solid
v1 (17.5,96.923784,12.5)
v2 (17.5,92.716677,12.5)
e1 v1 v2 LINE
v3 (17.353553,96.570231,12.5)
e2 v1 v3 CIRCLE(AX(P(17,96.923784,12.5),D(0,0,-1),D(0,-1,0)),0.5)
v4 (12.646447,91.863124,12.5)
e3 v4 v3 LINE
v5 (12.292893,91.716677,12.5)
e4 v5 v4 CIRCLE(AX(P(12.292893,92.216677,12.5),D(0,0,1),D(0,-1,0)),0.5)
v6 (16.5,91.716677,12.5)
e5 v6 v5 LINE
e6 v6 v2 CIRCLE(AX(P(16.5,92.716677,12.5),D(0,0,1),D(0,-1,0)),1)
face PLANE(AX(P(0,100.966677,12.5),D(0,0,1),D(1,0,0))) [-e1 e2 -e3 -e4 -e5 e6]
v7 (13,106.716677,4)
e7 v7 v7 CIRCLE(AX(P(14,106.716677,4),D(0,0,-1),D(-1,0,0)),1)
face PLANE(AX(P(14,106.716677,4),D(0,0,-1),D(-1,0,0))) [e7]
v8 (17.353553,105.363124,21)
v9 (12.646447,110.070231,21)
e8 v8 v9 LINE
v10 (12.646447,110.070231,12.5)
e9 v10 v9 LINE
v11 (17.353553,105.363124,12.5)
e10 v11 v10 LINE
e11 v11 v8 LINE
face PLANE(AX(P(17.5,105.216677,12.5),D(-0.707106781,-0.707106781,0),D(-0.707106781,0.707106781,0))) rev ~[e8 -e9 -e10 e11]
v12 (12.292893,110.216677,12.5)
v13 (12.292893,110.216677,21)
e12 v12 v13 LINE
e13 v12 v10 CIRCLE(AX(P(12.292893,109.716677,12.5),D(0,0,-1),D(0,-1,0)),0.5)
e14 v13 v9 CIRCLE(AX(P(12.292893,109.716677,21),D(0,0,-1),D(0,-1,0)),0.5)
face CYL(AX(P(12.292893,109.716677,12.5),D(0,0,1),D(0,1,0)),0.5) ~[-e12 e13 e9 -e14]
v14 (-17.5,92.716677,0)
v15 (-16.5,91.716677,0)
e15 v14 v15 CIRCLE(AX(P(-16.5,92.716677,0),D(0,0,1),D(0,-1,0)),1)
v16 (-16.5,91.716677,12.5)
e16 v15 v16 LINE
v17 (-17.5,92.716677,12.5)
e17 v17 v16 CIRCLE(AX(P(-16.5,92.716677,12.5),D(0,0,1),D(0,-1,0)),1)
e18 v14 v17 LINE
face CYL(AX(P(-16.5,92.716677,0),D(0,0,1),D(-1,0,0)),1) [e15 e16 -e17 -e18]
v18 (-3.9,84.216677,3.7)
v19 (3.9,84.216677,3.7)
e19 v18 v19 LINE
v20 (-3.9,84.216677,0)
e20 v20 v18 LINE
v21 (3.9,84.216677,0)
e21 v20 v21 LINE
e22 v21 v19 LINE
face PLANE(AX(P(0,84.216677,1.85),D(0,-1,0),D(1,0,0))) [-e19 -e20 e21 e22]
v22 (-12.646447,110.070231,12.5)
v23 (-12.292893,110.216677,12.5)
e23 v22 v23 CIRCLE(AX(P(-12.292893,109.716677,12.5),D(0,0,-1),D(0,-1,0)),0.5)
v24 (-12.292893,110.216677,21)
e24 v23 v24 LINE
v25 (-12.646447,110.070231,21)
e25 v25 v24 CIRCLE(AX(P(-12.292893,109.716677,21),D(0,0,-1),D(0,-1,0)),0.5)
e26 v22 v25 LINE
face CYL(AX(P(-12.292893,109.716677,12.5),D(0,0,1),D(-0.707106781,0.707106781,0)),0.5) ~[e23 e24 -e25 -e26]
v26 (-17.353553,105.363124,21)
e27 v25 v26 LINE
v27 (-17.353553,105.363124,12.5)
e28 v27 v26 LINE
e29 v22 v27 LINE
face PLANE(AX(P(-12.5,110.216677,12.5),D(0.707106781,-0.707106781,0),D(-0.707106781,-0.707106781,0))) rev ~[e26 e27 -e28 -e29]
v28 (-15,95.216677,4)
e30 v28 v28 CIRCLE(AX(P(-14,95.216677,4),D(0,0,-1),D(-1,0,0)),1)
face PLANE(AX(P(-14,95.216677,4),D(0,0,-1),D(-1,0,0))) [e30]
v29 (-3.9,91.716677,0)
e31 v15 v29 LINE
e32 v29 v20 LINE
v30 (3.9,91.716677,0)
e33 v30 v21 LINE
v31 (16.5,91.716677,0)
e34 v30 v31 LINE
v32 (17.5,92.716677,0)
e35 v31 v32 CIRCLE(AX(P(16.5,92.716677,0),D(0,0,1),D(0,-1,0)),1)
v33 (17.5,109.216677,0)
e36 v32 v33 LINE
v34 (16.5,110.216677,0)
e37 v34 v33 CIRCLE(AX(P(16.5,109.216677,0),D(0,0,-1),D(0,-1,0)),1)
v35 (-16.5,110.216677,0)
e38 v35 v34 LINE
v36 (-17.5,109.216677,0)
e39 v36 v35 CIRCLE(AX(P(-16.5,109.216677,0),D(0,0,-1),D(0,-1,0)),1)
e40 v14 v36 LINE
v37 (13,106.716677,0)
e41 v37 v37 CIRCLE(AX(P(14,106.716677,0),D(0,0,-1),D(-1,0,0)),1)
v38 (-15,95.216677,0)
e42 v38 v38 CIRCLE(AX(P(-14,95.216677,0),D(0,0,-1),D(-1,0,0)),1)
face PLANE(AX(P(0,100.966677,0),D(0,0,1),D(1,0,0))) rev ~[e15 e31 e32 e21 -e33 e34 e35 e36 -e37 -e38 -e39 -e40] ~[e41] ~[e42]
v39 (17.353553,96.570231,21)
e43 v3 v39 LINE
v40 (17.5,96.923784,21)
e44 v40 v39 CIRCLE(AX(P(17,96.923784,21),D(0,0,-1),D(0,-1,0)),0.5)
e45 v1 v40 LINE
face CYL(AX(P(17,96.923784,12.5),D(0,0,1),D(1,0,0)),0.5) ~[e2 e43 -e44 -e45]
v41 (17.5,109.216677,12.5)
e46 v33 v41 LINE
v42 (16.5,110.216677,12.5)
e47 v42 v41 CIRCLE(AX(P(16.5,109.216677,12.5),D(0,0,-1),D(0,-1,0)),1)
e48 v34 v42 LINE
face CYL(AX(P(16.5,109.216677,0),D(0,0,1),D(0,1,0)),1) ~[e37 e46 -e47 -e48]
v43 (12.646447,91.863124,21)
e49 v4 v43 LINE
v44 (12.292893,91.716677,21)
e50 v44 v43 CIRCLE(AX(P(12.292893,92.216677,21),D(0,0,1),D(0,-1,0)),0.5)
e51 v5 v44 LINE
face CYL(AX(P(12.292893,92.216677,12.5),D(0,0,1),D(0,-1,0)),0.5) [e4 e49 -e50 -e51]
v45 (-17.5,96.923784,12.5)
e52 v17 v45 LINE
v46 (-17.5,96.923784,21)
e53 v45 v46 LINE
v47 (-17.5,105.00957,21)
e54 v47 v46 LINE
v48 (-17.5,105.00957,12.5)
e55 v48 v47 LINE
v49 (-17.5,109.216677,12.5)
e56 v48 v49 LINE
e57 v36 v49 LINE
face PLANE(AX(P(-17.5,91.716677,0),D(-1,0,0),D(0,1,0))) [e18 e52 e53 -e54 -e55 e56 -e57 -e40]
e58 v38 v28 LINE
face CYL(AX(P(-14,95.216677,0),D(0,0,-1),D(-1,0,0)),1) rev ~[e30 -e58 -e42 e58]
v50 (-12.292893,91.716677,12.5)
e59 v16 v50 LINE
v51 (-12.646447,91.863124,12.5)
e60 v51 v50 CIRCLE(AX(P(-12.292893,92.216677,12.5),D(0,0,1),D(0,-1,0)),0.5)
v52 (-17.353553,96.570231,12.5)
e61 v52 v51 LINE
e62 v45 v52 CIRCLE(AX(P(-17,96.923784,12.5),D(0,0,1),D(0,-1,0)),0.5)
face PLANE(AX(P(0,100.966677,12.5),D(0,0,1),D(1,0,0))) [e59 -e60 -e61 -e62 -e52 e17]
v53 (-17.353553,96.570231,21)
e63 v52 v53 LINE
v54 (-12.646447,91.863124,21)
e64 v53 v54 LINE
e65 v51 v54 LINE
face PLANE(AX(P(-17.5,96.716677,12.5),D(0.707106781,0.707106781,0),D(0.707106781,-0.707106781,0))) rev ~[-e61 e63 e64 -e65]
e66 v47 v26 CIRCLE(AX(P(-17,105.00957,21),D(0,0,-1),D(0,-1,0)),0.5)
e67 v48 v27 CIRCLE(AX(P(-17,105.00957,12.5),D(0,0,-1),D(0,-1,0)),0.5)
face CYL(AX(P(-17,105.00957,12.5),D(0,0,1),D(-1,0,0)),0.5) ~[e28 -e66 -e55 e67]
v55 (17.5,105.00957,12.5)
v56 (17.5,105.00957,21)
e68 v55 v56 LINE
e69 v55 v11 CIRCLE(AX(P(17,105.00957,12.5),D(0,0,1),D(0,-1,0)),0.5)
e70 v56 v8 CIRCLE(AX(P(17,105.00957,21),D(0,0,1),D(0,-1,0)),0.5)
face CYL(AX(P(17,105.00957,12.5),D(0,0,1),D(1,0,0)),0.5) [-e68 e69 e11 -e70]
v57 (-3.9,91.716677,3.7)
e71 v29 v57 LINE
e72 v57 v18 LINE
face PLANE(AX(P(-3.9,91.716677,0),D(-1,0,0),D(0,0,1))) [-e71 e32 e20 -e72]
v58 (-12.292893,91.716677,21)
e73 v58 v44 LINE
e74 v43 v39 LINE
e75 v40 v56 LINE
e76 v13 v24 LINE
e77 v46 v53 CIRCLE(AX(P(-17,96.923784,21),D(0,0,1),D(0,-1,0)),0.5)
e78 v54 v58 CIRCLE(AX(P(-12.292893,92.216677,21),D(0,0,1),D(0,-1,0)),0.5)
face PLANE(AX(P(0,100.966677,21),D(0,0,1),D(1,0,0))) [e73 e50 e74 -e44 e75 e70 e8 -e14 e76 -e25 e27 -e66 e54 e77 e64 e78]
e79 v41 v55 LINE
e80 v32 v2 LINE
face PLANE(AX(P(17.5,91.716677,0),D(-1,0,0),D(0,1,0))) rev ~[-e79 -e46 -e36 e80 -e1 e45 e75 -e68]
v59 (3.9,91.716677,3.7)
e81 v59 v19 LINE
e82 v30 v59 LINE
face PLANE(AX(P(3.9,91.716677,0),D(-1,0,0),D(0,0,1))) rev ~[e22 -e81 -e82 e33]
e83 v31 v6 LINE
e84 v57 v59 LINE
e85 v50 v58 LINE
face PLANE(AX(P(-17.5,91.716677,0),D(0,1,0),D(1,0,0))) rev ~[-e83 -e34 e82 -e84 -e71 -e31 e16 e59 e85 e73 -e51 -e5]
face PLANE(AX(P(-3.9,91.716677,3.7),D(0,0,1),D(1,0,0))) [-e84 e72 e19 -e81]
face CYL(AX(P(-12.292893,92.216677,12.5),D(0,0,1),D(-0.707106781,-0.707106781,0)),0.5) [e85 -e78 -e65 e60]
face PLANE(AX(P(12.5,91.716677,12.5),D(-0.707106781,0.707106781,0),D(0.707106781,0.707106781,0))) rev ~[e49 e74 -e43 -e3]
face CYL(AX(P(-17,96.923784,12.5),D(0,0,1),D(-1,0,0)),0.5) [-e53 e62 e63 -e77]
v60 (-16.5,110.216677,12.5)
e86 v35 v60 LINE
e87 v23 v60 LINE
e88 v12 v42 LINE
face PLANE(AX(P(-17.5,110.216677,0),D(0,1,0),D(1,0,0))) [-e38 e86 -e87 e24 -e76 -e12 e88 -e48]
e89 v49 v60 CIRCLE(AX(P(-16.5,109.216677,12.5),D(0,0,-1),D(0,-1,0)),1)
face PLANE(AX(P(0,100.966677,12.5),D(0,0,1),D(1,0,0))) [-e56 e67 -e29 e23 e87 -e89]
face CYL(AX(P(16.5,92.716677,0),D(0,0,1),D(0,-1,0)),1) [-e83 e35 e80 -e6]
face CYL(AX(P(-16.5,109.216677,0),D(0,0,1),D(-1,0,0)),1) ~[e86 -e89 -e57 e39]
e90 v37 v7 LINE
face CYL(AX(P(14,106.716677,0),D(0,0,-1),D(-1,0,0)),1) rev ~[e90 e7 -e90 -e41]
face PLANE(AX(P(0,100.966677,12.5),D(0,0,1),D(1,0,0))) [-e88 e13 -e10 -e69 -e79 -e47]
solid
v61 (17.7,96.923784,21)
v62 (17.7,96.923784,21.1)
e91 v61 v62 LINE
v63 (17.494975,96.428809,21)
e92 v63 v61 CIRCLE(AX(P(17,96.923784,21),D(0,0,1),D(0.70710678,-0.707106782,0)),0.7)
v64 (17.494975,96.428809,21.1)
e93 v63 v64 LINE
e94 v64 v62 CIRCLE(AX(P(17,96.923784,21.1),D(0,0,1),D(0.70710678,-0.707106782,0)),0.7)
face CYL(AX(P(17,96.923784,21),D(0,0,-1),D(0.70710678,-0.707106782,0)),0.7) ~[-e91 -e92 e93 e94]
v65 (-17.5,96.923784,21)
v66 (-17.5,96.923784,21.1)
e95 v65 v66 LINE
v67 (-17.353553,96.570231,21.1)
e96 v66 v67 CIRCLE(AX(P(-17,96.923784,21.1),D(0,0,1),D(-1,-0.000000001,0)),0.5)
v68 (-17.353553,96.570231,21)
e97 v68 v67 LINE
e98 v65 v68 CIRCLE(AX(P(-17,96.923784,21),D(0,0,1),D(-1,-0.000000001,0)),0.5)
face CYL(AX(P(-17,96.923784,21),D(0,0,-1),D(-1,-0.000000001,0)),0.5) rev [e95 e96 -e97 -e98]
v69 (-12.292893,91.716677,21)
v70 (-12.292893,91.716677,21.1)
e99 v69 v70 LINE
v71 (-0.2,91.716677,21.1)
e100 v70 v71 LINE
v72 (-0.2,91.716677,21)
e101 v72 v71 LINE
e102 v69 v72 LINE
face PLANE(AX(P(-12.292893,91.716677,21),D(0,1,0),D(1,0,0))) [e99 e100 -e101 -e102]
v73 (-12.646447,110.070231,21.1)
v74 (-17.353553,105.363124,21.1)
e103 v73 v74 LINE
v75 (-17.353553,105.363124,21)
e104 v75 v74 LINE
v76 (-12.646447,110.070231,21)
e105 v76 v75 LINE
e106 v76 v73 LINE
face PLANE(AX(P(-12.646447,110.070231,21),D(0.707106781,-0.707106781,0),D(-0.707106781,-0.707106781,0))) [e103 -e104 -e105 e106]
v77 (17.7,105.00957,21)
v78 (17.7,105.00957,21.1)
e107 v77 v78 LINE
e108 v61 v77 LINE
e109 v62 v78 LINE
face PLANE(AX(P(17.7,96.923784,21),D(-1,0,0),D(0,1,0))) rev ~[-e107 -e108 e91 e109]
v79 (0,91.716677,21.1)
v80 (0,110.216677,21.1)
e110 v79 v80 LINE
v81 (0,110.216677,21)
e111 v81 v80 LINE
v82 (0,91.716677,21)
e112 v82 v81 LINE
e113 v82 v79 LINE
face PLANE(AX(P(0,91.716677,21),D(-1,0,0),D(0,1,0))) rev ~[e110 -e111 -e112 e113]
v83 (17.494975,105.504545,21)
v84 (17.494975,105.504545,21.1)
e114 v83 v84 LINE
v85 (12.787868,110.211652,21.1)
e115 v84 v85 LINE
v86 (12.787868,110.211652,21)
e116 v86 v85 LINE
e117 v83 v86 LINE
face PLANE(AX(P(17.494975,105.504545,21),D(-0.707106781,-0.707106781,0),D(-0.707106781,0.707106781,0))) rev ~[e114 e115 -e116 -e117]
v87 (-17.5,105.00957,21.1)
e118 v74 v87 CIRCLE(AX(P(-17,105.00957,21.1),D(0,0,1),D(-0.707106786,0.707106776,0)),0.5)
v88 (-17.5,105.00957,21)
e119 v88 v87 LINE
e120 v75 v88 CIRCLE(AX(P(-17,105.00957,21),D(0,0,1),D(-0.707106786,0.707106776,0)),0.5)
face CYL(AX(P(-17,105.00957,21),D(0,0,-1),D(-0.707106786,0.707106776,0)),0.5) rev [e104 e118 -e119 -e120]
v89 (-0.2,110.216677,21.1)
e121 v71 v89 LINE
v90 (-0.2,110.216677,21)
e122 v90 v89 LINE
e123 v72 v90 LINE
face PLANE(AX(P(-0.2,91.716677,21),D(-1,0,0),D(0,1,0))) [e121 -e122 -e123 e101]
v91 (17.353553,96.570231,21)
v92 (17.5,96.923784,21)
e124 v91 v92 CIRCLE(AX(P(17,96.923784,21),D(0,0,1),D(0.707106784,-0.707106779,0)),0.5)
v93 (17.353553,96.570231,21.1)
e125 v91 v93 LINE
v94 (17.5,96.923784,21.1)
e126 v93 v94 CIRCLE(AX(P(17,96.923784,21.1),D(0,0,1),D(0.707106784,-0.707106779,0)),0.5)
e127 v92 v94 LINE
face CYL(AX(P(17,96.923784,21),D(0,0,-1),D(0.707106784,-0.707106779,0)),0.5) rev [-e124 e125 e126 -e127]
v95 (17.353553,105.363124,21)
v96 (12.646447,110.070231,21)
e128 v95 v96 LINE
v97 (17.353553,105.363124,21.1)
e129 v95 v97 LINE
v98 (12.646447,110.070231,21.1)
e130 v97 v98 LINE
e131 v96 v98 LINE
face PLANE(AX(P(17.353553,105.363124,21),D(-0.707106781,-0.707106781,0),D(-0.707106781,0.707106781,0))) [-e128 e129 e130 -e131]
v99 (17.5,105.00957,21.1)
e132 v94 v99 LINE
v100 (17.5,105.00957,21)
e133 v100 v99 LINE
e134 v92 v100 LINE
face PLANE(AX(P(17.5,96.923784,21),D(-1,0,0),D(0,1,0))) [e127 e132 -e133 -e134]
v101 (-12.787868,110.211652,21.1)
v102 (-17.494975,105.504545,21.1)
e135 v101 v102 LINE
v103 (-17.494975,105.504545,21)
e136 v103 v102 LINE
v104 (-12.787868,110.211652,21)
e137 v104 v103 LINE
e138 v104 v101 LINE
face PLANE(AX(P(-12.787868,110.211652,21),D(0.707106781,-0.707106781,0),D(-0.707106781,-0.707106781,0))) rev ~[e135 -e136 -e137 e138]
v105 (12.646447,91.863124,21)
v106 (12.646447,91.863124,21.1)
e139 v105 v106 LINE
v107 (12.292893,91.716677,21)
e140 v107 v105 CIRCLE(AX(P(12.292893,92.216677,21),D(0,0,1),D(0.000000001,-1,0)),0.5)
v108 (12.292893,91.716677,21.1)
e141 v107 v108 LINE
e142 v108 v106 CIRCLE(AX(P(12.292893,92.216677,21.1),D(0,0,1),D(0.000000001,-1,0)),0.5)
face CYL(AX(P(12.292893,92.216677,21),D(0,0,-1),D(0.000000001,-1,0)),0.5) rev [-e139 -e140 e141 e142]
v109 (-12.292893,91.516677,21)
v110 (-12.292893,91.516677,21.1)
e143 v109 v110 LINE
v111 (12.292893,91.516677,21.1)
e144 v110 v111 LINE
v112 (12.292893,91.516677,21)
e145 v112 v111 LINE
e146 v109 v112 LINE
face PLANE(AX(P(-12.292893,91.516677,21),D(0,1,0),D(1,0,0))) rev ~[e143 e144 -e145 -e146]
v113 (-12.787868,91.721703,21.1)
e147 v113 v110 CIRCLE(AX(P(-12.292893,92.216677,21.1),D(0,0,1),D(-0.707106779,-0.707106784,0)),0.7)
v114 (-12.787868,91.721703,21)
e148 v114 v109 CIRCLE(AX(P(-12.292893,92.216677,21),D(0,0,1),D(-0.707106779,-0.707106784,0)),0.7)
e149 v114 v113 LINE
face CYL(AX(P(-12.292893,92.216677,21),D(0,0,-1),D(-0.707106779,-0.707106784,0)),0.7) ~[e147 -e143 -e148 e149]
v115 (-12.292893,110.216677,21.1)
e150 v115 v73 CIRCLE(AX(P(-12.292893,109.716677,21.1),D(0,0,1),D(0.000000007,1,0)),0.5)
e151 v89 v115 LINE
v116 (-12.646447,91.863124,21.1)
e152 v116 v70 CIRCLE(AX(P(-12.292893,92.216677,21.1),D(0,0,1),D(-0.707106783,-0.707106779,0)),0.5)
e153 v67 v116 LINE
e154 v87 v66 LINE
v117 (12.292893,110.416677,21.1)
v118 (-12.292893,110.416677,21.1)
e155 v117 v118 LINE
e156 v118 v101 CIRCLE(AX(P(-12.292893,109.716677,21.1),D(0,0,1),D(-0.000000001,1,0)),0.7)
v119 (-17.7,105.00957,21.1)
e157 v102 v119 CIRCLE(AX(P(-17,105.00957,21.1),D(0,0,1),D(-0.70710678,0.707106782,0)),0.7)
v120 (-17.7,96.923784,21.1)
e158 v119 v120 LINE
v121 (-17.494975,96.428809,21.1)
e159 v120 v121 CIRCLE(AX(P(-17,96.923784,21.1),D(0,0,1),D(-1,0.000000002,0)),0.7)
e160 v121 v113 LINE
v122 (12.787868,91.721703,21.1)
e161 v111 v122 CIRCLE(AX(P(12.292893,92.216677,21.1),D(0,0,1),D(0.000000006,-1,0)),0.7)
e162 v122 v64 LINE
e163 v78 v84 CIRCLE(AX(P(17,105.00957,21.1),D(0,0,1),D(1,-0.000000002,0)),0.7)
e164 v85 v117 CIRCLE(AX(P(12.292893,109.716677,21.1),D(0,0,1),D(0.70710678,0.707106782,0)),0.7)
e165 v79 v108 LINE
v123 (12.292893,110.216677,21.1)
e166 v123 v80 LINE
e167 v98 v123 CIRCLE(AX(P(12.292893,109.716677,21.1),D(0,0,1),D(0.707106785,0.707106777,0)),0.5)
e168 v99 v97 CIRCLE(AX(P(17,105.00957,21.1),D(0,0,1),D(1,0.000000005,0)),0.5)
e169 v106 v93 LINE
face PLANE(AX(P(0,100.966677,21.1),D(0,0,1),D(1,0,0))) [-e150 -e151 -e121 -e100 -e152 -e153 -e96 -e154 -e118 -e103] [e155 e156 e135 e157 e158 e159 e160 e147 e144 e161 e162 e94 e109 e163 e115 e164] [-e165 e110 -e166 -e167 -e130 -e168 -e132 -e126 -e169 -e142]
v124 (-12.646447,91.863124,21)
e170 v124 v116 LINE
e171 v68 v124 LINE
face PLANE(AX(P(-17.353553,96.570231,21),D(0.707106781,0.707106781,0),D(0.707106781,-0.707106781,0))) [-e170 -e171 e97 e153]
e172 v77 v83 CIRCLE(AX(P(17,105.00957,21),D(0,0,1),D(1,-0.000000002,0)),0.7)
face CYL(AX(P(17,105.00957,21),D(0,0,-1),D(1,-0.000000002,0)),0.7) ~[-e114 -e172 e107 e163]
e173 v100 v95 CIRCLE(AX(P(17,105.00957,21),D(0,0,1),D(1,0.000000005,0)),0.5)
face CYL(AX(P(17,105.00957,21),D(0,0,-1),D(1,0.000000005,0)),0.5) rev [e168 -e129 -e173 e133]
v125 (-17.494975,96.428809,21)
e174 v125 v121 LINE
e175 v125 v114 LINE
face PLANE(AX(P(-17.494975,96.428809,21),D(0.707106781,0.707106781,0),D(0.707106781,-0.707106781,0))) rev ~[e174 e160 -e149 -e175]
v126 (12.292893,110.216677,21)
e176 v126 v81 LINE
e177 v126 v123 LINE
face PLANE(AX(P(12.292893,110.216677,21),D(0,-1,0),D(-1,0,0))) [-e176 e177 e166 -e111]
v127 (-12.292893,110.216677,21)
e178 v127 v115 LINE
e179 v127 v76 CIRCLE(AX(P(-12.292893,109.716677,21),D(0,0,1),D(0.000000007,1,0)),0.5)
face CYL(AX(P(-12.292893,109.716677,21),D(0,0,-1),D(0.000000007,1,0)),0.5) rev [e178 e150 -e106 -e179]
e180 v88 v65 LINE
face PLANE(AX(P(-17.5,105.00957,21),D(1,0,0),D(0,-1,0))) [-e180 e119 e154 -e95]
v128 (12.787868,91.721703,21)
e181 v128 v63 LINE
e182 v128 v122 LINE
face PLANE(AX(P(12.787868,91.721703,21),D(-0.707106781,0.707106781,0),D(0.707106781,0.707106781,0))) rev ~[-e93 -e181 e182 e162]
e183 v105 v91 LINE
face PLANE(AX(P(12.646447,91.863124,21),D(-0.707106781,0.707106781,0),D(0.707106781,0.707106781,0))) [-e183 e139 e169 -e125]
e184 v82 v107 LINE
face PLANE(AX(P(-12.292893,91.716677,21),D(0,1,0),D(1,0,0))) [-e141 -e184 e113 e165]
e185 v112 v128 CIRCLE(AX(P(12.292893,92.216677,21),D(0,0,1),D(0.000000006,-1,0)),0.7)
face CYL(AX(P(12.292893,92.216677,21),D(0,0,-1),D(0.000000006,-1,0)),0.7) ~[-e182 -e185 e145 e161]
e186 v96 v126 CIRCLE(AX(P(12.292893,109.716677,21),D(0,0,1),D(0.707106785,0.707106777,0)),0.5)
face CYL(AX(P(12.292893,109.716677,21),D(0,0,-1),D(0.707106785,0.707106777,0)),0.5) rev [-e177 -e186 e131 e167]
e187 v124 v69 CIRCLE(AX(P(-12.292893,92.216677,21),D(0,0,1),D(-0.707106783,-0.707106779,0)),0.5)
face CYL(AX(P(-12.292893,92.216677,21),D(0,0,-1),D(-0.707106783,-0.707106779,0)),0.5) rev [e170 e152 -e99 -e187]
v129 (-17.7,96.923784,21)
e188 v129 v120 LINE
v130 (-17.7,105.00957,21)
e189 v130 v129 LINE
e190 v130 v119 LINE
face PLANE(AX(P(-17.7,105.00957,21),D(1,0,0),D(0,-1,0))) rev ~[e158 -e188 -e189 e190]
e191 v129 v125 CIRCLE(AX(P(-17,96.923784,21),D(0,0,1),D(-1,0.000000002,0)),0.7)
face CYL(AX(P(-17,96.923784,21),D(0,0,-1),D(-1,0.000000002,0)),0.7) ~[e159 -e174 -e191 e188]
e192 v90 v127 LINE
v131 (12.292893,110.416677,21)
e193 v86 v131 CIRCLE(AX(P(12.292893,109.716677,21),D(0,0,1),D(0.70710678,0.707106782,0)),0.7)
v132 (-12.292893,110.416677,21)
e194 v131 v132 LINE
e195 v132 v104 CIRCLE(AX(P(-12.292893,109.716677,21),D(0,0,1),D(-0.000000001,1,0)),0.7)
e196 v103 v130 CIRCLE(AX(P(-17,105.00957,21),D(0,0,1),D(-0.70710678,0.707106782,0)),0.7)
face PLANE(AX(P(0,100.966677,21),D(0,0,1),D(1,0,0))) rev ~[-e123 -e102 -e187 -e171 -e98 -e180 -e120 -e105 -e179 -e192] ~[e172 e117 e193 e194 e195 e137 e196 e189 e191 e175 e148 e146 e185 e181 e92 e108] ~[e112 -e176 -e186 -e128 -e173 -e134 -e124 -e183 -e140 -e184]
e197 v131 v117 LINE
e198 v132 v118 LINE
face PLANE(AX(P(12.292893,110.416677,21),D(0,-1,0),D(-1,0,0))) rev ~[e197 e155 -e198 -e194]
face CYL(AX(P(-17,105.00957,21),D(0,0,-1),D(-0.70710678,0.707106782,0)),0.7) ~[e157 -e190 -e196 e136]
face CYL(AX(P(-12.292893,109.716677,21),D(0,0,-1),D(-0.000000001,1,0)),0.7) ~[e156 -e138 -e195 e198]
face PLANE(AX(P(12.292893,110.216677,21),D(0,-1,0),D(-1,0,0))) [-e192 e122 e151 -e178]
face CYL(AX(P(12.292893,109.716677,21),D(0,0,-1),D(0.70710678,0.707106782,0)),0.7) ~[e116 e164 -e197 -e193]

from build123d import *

# Parameters (mm, degrees)
SKETCH_1_W          = 35
SKETCH_1_H          = 18.5
EXTRUDE_1_DEPTH     = 12.5
EXTRUDE_2_DEPTH     = 8.5
FILLET_1_R          = 1
FILLET_2_R          = 0.5
SKETCH_3_R          = 1
CUT_EXTRUDE_1_DEPTH = 4
SKETCH_4_W          = 7.8
SKETCH_4_H          = 3.7
EXTRUDE_3_DEPTH     = 7.5
SKETCH_5_W          = 0.2
SKETCH_5_H          = 18.5
EXTRUDE_3_2_DEPTH   = 0.1


with BuildPart() as part:
    # 草图1 → 凸台-拉伸1 (new body)
    with BuildSketch(Plane.XY):
        with Locations((0, 100.966677277)):
            Rectangle(SKETCH_1_W, SKETCH_1_H)
    extrude(amount=EXTRUDE_1_DEPTH)

    # 草图2 → 凸台-拉伸2 (add)
    with BuildSketch(Plane.XY.offset(12.5)):
        Polygon((-12.5, 110.216677277), (-17.5, 105.216677277), (-17.5, 96.716677277), (-12.5, 91.716677277), (12.5, 91.716677277), (17.5, 96.716677277), (17.5, 105.216677277), (12.5, 110.216677277), align=None)
    extrude(amount=EXTRUDE_2_DEPTH)

    # 圆角1
    fillet_1_edges = [part.edges().sort_by_distance(p)[0] for p in [
        (-17.5, 110.216677277, 6.25),
        (17.5, 110.216677277, 6.25),
        (17.5, 91.716677277, 6.25),
        (-17.5, 91.716677277, 6.25),
    ]]
    fillet(fillet_1_edges, radius=FILLET_1_R)

    # 圆角2
    fillet_2_edges = [part.edges().sort_by_distance(p)[0] for p in [
        (-17.5, 105.216677277, 16.75),
        (-17.5, 96.716677277, 16.75),
        (-12.5, 91.716677277, 16.75),
        (12.5, 91.716677277, 16.75),
        (17.5, 96.716677277, 16.75),
        (17.5, 105.216677277, 16.75),
        (12.5, 110.216677277, 16.75),
        (-12.5, 110.216677277, 16.75),
    ]]
    fillet(fillet_2_edges, radius=FILLET_2_R)

    # 草图3 → 切除-拉伸1 (cut)
    with BuildSketch(Plane(origin=(0, 0, 0), x_dir=(-1, 0, 0), z_dir=(0, 0, -1))):
        with Locations((14, 95.216677277)):
            Circle(SKETCH_3_R)
        with Locations((-14, 106.716677277)):
            Circle(SKETCH_3_R)
    extrude(amount=-CUT_EXTRUDE_1_DEPTH, mode=Mode.SUBTRACT)

    # 草图4 → Extrude 3 (add)
    with BuildSketch(Plane.XZ.offset(-91.716677277)):
        with Locations((0, 1.85)):
            Rectangle(SKETCH_4_W, SKETCH_4_H)
    extrude(amount=EXTRUDE_3_DEPTH)


with BuildPart() as body_2:
    # 草图5 → Extrude 3 2 (new body)
    # profile 1 of 2: a face of its own
    with BuildSketch(Plane.XY.offset(21)):
        with BuildLine():
            Line((12.787867966, 91.721702531), (17.494974747, 96.428809312))
            ThreePointArc((17.494974747, 96.428809312), (17.646715673, 96.655905656), (17.7, 96.923784059))
            Line((17.7, 96.923784059), (17.7, 105.009570496))
            ThreePointArc((17.7, 105.009570496), (17.646715673, 105.277448899), (17.494974747, 105.504545243))
            Line((17.494974747, 105.504545243), (12.787867966, 110.211652024))
            ThreePointArc((12.787867966, 110.211652024), (12.560771621, 110.36339295), (12.292893219, 110.416677277))
            Line((12.292893219, 110.416677277), (-12.292893219, 110.416677277))
            ThreePointArc((-12.292893219, 110.416677277), (-12.560771621, 110.36339295), (-12.787867966, 110.211652024))
            Line((-12.787867966, 110.211652024), (-17.494974747, 105.504545243))
            ThreePointArc((-17.494974747, 105.504545243), (-17.646715673, 105.277448899), (-17.7, 105.009570496))
            Line((-17.7, 105.009570496), (-17.7, 96.923784059))
            ThreePointArc((-17.7, 96.923784059), (-17.646715673, 96.655905656), (-17.494974747, 96.428809312))
            Line((-17.494974747, 96.428809312), (-12.787867966, 91.721702531))
            ThreePointArc((-12.787867966, 91.721702531), (-12.560771621, 91.569961605), (-12.292893219, 91.516677277))
            Line((-12.292893219, 91.516677277), (12.292893219, 91.516677277))
            ThreePointArc((12.292893219, 91.516677277), (12.560771621, 91.569961605), (12.787867966, 91.721702531))
        make_face()
        with BuildLine():
            Line((12.646446609, 91.863123887), (17.353553391, 96.570230668))
            ThreePointArc((17.353553391, 96.570230668), (17.461939766, 96.732442342), (17.5, 96.923784059))
            Line((17.5, 96.923784059), (17.5, 105.009570496))
            ThreePointArc((17.5, 105.009570496), (17.461939766, 105.200912212), (17.353553391, 105.363123887))
            Line((17.353553391, 105.363123887), (12.646446609, 110.070230668))
            ThreePointArc((12.646446609, 110.070230668), (12.484234935, 110.178617044), (12.292893219, 110.216677277))
            Line((12.292893219, 110.216677277), (-12.292893219, 110.216677277))
            ThreePointArc((-12.292893219, 110.216677277), (-12.484234935, 110.178617044), (-12.646446609, 110.070230668))
            Line((-12.646446609, 110.070230668), (-17.353553391, 105.363123887))
            ThreePointArc((-17.353553391, 105.363123887), (-17.461939766, 105.200912212), (-17.5, 105.009570496))
            Line((-17.5, 105.009570496), (-17.5, 96.923784059))
            ThreePointArc((-17.5, 96.923784059), (-17.461939766, 96.732442342), (-17.353553391, 96.570230668))
            Line((-17.353553391, 96.570230668), (-12.646446609, 91.863123887))
            ThreePointArc((-12.646446609, 91.863123887), (-12.484234935, 91.754737511), (-12.292893219, 91.716677277))
            Line((-12.292893219, 91.716677277), (12.292893219, 91.716677277))
            ThreePointArc((12.292893219, 91.716677277), (12.484234935, 91.754737511), (12.646446609, 91.863123887))
        make_face(mode=Mode.SUBTRACT)
    # profile 2 of 2: a face of its own
    with BuildSketch(Plane.XY.offset(21)):
        with Locations((-0.1, 100.966677277)):
            Rectangle(SKETCH_5_W, SKETCH_5_H)
    extrude(amount=EXTRUDE_3_2_DEPTH)


solid = Compound([part.part, body_2.part])
